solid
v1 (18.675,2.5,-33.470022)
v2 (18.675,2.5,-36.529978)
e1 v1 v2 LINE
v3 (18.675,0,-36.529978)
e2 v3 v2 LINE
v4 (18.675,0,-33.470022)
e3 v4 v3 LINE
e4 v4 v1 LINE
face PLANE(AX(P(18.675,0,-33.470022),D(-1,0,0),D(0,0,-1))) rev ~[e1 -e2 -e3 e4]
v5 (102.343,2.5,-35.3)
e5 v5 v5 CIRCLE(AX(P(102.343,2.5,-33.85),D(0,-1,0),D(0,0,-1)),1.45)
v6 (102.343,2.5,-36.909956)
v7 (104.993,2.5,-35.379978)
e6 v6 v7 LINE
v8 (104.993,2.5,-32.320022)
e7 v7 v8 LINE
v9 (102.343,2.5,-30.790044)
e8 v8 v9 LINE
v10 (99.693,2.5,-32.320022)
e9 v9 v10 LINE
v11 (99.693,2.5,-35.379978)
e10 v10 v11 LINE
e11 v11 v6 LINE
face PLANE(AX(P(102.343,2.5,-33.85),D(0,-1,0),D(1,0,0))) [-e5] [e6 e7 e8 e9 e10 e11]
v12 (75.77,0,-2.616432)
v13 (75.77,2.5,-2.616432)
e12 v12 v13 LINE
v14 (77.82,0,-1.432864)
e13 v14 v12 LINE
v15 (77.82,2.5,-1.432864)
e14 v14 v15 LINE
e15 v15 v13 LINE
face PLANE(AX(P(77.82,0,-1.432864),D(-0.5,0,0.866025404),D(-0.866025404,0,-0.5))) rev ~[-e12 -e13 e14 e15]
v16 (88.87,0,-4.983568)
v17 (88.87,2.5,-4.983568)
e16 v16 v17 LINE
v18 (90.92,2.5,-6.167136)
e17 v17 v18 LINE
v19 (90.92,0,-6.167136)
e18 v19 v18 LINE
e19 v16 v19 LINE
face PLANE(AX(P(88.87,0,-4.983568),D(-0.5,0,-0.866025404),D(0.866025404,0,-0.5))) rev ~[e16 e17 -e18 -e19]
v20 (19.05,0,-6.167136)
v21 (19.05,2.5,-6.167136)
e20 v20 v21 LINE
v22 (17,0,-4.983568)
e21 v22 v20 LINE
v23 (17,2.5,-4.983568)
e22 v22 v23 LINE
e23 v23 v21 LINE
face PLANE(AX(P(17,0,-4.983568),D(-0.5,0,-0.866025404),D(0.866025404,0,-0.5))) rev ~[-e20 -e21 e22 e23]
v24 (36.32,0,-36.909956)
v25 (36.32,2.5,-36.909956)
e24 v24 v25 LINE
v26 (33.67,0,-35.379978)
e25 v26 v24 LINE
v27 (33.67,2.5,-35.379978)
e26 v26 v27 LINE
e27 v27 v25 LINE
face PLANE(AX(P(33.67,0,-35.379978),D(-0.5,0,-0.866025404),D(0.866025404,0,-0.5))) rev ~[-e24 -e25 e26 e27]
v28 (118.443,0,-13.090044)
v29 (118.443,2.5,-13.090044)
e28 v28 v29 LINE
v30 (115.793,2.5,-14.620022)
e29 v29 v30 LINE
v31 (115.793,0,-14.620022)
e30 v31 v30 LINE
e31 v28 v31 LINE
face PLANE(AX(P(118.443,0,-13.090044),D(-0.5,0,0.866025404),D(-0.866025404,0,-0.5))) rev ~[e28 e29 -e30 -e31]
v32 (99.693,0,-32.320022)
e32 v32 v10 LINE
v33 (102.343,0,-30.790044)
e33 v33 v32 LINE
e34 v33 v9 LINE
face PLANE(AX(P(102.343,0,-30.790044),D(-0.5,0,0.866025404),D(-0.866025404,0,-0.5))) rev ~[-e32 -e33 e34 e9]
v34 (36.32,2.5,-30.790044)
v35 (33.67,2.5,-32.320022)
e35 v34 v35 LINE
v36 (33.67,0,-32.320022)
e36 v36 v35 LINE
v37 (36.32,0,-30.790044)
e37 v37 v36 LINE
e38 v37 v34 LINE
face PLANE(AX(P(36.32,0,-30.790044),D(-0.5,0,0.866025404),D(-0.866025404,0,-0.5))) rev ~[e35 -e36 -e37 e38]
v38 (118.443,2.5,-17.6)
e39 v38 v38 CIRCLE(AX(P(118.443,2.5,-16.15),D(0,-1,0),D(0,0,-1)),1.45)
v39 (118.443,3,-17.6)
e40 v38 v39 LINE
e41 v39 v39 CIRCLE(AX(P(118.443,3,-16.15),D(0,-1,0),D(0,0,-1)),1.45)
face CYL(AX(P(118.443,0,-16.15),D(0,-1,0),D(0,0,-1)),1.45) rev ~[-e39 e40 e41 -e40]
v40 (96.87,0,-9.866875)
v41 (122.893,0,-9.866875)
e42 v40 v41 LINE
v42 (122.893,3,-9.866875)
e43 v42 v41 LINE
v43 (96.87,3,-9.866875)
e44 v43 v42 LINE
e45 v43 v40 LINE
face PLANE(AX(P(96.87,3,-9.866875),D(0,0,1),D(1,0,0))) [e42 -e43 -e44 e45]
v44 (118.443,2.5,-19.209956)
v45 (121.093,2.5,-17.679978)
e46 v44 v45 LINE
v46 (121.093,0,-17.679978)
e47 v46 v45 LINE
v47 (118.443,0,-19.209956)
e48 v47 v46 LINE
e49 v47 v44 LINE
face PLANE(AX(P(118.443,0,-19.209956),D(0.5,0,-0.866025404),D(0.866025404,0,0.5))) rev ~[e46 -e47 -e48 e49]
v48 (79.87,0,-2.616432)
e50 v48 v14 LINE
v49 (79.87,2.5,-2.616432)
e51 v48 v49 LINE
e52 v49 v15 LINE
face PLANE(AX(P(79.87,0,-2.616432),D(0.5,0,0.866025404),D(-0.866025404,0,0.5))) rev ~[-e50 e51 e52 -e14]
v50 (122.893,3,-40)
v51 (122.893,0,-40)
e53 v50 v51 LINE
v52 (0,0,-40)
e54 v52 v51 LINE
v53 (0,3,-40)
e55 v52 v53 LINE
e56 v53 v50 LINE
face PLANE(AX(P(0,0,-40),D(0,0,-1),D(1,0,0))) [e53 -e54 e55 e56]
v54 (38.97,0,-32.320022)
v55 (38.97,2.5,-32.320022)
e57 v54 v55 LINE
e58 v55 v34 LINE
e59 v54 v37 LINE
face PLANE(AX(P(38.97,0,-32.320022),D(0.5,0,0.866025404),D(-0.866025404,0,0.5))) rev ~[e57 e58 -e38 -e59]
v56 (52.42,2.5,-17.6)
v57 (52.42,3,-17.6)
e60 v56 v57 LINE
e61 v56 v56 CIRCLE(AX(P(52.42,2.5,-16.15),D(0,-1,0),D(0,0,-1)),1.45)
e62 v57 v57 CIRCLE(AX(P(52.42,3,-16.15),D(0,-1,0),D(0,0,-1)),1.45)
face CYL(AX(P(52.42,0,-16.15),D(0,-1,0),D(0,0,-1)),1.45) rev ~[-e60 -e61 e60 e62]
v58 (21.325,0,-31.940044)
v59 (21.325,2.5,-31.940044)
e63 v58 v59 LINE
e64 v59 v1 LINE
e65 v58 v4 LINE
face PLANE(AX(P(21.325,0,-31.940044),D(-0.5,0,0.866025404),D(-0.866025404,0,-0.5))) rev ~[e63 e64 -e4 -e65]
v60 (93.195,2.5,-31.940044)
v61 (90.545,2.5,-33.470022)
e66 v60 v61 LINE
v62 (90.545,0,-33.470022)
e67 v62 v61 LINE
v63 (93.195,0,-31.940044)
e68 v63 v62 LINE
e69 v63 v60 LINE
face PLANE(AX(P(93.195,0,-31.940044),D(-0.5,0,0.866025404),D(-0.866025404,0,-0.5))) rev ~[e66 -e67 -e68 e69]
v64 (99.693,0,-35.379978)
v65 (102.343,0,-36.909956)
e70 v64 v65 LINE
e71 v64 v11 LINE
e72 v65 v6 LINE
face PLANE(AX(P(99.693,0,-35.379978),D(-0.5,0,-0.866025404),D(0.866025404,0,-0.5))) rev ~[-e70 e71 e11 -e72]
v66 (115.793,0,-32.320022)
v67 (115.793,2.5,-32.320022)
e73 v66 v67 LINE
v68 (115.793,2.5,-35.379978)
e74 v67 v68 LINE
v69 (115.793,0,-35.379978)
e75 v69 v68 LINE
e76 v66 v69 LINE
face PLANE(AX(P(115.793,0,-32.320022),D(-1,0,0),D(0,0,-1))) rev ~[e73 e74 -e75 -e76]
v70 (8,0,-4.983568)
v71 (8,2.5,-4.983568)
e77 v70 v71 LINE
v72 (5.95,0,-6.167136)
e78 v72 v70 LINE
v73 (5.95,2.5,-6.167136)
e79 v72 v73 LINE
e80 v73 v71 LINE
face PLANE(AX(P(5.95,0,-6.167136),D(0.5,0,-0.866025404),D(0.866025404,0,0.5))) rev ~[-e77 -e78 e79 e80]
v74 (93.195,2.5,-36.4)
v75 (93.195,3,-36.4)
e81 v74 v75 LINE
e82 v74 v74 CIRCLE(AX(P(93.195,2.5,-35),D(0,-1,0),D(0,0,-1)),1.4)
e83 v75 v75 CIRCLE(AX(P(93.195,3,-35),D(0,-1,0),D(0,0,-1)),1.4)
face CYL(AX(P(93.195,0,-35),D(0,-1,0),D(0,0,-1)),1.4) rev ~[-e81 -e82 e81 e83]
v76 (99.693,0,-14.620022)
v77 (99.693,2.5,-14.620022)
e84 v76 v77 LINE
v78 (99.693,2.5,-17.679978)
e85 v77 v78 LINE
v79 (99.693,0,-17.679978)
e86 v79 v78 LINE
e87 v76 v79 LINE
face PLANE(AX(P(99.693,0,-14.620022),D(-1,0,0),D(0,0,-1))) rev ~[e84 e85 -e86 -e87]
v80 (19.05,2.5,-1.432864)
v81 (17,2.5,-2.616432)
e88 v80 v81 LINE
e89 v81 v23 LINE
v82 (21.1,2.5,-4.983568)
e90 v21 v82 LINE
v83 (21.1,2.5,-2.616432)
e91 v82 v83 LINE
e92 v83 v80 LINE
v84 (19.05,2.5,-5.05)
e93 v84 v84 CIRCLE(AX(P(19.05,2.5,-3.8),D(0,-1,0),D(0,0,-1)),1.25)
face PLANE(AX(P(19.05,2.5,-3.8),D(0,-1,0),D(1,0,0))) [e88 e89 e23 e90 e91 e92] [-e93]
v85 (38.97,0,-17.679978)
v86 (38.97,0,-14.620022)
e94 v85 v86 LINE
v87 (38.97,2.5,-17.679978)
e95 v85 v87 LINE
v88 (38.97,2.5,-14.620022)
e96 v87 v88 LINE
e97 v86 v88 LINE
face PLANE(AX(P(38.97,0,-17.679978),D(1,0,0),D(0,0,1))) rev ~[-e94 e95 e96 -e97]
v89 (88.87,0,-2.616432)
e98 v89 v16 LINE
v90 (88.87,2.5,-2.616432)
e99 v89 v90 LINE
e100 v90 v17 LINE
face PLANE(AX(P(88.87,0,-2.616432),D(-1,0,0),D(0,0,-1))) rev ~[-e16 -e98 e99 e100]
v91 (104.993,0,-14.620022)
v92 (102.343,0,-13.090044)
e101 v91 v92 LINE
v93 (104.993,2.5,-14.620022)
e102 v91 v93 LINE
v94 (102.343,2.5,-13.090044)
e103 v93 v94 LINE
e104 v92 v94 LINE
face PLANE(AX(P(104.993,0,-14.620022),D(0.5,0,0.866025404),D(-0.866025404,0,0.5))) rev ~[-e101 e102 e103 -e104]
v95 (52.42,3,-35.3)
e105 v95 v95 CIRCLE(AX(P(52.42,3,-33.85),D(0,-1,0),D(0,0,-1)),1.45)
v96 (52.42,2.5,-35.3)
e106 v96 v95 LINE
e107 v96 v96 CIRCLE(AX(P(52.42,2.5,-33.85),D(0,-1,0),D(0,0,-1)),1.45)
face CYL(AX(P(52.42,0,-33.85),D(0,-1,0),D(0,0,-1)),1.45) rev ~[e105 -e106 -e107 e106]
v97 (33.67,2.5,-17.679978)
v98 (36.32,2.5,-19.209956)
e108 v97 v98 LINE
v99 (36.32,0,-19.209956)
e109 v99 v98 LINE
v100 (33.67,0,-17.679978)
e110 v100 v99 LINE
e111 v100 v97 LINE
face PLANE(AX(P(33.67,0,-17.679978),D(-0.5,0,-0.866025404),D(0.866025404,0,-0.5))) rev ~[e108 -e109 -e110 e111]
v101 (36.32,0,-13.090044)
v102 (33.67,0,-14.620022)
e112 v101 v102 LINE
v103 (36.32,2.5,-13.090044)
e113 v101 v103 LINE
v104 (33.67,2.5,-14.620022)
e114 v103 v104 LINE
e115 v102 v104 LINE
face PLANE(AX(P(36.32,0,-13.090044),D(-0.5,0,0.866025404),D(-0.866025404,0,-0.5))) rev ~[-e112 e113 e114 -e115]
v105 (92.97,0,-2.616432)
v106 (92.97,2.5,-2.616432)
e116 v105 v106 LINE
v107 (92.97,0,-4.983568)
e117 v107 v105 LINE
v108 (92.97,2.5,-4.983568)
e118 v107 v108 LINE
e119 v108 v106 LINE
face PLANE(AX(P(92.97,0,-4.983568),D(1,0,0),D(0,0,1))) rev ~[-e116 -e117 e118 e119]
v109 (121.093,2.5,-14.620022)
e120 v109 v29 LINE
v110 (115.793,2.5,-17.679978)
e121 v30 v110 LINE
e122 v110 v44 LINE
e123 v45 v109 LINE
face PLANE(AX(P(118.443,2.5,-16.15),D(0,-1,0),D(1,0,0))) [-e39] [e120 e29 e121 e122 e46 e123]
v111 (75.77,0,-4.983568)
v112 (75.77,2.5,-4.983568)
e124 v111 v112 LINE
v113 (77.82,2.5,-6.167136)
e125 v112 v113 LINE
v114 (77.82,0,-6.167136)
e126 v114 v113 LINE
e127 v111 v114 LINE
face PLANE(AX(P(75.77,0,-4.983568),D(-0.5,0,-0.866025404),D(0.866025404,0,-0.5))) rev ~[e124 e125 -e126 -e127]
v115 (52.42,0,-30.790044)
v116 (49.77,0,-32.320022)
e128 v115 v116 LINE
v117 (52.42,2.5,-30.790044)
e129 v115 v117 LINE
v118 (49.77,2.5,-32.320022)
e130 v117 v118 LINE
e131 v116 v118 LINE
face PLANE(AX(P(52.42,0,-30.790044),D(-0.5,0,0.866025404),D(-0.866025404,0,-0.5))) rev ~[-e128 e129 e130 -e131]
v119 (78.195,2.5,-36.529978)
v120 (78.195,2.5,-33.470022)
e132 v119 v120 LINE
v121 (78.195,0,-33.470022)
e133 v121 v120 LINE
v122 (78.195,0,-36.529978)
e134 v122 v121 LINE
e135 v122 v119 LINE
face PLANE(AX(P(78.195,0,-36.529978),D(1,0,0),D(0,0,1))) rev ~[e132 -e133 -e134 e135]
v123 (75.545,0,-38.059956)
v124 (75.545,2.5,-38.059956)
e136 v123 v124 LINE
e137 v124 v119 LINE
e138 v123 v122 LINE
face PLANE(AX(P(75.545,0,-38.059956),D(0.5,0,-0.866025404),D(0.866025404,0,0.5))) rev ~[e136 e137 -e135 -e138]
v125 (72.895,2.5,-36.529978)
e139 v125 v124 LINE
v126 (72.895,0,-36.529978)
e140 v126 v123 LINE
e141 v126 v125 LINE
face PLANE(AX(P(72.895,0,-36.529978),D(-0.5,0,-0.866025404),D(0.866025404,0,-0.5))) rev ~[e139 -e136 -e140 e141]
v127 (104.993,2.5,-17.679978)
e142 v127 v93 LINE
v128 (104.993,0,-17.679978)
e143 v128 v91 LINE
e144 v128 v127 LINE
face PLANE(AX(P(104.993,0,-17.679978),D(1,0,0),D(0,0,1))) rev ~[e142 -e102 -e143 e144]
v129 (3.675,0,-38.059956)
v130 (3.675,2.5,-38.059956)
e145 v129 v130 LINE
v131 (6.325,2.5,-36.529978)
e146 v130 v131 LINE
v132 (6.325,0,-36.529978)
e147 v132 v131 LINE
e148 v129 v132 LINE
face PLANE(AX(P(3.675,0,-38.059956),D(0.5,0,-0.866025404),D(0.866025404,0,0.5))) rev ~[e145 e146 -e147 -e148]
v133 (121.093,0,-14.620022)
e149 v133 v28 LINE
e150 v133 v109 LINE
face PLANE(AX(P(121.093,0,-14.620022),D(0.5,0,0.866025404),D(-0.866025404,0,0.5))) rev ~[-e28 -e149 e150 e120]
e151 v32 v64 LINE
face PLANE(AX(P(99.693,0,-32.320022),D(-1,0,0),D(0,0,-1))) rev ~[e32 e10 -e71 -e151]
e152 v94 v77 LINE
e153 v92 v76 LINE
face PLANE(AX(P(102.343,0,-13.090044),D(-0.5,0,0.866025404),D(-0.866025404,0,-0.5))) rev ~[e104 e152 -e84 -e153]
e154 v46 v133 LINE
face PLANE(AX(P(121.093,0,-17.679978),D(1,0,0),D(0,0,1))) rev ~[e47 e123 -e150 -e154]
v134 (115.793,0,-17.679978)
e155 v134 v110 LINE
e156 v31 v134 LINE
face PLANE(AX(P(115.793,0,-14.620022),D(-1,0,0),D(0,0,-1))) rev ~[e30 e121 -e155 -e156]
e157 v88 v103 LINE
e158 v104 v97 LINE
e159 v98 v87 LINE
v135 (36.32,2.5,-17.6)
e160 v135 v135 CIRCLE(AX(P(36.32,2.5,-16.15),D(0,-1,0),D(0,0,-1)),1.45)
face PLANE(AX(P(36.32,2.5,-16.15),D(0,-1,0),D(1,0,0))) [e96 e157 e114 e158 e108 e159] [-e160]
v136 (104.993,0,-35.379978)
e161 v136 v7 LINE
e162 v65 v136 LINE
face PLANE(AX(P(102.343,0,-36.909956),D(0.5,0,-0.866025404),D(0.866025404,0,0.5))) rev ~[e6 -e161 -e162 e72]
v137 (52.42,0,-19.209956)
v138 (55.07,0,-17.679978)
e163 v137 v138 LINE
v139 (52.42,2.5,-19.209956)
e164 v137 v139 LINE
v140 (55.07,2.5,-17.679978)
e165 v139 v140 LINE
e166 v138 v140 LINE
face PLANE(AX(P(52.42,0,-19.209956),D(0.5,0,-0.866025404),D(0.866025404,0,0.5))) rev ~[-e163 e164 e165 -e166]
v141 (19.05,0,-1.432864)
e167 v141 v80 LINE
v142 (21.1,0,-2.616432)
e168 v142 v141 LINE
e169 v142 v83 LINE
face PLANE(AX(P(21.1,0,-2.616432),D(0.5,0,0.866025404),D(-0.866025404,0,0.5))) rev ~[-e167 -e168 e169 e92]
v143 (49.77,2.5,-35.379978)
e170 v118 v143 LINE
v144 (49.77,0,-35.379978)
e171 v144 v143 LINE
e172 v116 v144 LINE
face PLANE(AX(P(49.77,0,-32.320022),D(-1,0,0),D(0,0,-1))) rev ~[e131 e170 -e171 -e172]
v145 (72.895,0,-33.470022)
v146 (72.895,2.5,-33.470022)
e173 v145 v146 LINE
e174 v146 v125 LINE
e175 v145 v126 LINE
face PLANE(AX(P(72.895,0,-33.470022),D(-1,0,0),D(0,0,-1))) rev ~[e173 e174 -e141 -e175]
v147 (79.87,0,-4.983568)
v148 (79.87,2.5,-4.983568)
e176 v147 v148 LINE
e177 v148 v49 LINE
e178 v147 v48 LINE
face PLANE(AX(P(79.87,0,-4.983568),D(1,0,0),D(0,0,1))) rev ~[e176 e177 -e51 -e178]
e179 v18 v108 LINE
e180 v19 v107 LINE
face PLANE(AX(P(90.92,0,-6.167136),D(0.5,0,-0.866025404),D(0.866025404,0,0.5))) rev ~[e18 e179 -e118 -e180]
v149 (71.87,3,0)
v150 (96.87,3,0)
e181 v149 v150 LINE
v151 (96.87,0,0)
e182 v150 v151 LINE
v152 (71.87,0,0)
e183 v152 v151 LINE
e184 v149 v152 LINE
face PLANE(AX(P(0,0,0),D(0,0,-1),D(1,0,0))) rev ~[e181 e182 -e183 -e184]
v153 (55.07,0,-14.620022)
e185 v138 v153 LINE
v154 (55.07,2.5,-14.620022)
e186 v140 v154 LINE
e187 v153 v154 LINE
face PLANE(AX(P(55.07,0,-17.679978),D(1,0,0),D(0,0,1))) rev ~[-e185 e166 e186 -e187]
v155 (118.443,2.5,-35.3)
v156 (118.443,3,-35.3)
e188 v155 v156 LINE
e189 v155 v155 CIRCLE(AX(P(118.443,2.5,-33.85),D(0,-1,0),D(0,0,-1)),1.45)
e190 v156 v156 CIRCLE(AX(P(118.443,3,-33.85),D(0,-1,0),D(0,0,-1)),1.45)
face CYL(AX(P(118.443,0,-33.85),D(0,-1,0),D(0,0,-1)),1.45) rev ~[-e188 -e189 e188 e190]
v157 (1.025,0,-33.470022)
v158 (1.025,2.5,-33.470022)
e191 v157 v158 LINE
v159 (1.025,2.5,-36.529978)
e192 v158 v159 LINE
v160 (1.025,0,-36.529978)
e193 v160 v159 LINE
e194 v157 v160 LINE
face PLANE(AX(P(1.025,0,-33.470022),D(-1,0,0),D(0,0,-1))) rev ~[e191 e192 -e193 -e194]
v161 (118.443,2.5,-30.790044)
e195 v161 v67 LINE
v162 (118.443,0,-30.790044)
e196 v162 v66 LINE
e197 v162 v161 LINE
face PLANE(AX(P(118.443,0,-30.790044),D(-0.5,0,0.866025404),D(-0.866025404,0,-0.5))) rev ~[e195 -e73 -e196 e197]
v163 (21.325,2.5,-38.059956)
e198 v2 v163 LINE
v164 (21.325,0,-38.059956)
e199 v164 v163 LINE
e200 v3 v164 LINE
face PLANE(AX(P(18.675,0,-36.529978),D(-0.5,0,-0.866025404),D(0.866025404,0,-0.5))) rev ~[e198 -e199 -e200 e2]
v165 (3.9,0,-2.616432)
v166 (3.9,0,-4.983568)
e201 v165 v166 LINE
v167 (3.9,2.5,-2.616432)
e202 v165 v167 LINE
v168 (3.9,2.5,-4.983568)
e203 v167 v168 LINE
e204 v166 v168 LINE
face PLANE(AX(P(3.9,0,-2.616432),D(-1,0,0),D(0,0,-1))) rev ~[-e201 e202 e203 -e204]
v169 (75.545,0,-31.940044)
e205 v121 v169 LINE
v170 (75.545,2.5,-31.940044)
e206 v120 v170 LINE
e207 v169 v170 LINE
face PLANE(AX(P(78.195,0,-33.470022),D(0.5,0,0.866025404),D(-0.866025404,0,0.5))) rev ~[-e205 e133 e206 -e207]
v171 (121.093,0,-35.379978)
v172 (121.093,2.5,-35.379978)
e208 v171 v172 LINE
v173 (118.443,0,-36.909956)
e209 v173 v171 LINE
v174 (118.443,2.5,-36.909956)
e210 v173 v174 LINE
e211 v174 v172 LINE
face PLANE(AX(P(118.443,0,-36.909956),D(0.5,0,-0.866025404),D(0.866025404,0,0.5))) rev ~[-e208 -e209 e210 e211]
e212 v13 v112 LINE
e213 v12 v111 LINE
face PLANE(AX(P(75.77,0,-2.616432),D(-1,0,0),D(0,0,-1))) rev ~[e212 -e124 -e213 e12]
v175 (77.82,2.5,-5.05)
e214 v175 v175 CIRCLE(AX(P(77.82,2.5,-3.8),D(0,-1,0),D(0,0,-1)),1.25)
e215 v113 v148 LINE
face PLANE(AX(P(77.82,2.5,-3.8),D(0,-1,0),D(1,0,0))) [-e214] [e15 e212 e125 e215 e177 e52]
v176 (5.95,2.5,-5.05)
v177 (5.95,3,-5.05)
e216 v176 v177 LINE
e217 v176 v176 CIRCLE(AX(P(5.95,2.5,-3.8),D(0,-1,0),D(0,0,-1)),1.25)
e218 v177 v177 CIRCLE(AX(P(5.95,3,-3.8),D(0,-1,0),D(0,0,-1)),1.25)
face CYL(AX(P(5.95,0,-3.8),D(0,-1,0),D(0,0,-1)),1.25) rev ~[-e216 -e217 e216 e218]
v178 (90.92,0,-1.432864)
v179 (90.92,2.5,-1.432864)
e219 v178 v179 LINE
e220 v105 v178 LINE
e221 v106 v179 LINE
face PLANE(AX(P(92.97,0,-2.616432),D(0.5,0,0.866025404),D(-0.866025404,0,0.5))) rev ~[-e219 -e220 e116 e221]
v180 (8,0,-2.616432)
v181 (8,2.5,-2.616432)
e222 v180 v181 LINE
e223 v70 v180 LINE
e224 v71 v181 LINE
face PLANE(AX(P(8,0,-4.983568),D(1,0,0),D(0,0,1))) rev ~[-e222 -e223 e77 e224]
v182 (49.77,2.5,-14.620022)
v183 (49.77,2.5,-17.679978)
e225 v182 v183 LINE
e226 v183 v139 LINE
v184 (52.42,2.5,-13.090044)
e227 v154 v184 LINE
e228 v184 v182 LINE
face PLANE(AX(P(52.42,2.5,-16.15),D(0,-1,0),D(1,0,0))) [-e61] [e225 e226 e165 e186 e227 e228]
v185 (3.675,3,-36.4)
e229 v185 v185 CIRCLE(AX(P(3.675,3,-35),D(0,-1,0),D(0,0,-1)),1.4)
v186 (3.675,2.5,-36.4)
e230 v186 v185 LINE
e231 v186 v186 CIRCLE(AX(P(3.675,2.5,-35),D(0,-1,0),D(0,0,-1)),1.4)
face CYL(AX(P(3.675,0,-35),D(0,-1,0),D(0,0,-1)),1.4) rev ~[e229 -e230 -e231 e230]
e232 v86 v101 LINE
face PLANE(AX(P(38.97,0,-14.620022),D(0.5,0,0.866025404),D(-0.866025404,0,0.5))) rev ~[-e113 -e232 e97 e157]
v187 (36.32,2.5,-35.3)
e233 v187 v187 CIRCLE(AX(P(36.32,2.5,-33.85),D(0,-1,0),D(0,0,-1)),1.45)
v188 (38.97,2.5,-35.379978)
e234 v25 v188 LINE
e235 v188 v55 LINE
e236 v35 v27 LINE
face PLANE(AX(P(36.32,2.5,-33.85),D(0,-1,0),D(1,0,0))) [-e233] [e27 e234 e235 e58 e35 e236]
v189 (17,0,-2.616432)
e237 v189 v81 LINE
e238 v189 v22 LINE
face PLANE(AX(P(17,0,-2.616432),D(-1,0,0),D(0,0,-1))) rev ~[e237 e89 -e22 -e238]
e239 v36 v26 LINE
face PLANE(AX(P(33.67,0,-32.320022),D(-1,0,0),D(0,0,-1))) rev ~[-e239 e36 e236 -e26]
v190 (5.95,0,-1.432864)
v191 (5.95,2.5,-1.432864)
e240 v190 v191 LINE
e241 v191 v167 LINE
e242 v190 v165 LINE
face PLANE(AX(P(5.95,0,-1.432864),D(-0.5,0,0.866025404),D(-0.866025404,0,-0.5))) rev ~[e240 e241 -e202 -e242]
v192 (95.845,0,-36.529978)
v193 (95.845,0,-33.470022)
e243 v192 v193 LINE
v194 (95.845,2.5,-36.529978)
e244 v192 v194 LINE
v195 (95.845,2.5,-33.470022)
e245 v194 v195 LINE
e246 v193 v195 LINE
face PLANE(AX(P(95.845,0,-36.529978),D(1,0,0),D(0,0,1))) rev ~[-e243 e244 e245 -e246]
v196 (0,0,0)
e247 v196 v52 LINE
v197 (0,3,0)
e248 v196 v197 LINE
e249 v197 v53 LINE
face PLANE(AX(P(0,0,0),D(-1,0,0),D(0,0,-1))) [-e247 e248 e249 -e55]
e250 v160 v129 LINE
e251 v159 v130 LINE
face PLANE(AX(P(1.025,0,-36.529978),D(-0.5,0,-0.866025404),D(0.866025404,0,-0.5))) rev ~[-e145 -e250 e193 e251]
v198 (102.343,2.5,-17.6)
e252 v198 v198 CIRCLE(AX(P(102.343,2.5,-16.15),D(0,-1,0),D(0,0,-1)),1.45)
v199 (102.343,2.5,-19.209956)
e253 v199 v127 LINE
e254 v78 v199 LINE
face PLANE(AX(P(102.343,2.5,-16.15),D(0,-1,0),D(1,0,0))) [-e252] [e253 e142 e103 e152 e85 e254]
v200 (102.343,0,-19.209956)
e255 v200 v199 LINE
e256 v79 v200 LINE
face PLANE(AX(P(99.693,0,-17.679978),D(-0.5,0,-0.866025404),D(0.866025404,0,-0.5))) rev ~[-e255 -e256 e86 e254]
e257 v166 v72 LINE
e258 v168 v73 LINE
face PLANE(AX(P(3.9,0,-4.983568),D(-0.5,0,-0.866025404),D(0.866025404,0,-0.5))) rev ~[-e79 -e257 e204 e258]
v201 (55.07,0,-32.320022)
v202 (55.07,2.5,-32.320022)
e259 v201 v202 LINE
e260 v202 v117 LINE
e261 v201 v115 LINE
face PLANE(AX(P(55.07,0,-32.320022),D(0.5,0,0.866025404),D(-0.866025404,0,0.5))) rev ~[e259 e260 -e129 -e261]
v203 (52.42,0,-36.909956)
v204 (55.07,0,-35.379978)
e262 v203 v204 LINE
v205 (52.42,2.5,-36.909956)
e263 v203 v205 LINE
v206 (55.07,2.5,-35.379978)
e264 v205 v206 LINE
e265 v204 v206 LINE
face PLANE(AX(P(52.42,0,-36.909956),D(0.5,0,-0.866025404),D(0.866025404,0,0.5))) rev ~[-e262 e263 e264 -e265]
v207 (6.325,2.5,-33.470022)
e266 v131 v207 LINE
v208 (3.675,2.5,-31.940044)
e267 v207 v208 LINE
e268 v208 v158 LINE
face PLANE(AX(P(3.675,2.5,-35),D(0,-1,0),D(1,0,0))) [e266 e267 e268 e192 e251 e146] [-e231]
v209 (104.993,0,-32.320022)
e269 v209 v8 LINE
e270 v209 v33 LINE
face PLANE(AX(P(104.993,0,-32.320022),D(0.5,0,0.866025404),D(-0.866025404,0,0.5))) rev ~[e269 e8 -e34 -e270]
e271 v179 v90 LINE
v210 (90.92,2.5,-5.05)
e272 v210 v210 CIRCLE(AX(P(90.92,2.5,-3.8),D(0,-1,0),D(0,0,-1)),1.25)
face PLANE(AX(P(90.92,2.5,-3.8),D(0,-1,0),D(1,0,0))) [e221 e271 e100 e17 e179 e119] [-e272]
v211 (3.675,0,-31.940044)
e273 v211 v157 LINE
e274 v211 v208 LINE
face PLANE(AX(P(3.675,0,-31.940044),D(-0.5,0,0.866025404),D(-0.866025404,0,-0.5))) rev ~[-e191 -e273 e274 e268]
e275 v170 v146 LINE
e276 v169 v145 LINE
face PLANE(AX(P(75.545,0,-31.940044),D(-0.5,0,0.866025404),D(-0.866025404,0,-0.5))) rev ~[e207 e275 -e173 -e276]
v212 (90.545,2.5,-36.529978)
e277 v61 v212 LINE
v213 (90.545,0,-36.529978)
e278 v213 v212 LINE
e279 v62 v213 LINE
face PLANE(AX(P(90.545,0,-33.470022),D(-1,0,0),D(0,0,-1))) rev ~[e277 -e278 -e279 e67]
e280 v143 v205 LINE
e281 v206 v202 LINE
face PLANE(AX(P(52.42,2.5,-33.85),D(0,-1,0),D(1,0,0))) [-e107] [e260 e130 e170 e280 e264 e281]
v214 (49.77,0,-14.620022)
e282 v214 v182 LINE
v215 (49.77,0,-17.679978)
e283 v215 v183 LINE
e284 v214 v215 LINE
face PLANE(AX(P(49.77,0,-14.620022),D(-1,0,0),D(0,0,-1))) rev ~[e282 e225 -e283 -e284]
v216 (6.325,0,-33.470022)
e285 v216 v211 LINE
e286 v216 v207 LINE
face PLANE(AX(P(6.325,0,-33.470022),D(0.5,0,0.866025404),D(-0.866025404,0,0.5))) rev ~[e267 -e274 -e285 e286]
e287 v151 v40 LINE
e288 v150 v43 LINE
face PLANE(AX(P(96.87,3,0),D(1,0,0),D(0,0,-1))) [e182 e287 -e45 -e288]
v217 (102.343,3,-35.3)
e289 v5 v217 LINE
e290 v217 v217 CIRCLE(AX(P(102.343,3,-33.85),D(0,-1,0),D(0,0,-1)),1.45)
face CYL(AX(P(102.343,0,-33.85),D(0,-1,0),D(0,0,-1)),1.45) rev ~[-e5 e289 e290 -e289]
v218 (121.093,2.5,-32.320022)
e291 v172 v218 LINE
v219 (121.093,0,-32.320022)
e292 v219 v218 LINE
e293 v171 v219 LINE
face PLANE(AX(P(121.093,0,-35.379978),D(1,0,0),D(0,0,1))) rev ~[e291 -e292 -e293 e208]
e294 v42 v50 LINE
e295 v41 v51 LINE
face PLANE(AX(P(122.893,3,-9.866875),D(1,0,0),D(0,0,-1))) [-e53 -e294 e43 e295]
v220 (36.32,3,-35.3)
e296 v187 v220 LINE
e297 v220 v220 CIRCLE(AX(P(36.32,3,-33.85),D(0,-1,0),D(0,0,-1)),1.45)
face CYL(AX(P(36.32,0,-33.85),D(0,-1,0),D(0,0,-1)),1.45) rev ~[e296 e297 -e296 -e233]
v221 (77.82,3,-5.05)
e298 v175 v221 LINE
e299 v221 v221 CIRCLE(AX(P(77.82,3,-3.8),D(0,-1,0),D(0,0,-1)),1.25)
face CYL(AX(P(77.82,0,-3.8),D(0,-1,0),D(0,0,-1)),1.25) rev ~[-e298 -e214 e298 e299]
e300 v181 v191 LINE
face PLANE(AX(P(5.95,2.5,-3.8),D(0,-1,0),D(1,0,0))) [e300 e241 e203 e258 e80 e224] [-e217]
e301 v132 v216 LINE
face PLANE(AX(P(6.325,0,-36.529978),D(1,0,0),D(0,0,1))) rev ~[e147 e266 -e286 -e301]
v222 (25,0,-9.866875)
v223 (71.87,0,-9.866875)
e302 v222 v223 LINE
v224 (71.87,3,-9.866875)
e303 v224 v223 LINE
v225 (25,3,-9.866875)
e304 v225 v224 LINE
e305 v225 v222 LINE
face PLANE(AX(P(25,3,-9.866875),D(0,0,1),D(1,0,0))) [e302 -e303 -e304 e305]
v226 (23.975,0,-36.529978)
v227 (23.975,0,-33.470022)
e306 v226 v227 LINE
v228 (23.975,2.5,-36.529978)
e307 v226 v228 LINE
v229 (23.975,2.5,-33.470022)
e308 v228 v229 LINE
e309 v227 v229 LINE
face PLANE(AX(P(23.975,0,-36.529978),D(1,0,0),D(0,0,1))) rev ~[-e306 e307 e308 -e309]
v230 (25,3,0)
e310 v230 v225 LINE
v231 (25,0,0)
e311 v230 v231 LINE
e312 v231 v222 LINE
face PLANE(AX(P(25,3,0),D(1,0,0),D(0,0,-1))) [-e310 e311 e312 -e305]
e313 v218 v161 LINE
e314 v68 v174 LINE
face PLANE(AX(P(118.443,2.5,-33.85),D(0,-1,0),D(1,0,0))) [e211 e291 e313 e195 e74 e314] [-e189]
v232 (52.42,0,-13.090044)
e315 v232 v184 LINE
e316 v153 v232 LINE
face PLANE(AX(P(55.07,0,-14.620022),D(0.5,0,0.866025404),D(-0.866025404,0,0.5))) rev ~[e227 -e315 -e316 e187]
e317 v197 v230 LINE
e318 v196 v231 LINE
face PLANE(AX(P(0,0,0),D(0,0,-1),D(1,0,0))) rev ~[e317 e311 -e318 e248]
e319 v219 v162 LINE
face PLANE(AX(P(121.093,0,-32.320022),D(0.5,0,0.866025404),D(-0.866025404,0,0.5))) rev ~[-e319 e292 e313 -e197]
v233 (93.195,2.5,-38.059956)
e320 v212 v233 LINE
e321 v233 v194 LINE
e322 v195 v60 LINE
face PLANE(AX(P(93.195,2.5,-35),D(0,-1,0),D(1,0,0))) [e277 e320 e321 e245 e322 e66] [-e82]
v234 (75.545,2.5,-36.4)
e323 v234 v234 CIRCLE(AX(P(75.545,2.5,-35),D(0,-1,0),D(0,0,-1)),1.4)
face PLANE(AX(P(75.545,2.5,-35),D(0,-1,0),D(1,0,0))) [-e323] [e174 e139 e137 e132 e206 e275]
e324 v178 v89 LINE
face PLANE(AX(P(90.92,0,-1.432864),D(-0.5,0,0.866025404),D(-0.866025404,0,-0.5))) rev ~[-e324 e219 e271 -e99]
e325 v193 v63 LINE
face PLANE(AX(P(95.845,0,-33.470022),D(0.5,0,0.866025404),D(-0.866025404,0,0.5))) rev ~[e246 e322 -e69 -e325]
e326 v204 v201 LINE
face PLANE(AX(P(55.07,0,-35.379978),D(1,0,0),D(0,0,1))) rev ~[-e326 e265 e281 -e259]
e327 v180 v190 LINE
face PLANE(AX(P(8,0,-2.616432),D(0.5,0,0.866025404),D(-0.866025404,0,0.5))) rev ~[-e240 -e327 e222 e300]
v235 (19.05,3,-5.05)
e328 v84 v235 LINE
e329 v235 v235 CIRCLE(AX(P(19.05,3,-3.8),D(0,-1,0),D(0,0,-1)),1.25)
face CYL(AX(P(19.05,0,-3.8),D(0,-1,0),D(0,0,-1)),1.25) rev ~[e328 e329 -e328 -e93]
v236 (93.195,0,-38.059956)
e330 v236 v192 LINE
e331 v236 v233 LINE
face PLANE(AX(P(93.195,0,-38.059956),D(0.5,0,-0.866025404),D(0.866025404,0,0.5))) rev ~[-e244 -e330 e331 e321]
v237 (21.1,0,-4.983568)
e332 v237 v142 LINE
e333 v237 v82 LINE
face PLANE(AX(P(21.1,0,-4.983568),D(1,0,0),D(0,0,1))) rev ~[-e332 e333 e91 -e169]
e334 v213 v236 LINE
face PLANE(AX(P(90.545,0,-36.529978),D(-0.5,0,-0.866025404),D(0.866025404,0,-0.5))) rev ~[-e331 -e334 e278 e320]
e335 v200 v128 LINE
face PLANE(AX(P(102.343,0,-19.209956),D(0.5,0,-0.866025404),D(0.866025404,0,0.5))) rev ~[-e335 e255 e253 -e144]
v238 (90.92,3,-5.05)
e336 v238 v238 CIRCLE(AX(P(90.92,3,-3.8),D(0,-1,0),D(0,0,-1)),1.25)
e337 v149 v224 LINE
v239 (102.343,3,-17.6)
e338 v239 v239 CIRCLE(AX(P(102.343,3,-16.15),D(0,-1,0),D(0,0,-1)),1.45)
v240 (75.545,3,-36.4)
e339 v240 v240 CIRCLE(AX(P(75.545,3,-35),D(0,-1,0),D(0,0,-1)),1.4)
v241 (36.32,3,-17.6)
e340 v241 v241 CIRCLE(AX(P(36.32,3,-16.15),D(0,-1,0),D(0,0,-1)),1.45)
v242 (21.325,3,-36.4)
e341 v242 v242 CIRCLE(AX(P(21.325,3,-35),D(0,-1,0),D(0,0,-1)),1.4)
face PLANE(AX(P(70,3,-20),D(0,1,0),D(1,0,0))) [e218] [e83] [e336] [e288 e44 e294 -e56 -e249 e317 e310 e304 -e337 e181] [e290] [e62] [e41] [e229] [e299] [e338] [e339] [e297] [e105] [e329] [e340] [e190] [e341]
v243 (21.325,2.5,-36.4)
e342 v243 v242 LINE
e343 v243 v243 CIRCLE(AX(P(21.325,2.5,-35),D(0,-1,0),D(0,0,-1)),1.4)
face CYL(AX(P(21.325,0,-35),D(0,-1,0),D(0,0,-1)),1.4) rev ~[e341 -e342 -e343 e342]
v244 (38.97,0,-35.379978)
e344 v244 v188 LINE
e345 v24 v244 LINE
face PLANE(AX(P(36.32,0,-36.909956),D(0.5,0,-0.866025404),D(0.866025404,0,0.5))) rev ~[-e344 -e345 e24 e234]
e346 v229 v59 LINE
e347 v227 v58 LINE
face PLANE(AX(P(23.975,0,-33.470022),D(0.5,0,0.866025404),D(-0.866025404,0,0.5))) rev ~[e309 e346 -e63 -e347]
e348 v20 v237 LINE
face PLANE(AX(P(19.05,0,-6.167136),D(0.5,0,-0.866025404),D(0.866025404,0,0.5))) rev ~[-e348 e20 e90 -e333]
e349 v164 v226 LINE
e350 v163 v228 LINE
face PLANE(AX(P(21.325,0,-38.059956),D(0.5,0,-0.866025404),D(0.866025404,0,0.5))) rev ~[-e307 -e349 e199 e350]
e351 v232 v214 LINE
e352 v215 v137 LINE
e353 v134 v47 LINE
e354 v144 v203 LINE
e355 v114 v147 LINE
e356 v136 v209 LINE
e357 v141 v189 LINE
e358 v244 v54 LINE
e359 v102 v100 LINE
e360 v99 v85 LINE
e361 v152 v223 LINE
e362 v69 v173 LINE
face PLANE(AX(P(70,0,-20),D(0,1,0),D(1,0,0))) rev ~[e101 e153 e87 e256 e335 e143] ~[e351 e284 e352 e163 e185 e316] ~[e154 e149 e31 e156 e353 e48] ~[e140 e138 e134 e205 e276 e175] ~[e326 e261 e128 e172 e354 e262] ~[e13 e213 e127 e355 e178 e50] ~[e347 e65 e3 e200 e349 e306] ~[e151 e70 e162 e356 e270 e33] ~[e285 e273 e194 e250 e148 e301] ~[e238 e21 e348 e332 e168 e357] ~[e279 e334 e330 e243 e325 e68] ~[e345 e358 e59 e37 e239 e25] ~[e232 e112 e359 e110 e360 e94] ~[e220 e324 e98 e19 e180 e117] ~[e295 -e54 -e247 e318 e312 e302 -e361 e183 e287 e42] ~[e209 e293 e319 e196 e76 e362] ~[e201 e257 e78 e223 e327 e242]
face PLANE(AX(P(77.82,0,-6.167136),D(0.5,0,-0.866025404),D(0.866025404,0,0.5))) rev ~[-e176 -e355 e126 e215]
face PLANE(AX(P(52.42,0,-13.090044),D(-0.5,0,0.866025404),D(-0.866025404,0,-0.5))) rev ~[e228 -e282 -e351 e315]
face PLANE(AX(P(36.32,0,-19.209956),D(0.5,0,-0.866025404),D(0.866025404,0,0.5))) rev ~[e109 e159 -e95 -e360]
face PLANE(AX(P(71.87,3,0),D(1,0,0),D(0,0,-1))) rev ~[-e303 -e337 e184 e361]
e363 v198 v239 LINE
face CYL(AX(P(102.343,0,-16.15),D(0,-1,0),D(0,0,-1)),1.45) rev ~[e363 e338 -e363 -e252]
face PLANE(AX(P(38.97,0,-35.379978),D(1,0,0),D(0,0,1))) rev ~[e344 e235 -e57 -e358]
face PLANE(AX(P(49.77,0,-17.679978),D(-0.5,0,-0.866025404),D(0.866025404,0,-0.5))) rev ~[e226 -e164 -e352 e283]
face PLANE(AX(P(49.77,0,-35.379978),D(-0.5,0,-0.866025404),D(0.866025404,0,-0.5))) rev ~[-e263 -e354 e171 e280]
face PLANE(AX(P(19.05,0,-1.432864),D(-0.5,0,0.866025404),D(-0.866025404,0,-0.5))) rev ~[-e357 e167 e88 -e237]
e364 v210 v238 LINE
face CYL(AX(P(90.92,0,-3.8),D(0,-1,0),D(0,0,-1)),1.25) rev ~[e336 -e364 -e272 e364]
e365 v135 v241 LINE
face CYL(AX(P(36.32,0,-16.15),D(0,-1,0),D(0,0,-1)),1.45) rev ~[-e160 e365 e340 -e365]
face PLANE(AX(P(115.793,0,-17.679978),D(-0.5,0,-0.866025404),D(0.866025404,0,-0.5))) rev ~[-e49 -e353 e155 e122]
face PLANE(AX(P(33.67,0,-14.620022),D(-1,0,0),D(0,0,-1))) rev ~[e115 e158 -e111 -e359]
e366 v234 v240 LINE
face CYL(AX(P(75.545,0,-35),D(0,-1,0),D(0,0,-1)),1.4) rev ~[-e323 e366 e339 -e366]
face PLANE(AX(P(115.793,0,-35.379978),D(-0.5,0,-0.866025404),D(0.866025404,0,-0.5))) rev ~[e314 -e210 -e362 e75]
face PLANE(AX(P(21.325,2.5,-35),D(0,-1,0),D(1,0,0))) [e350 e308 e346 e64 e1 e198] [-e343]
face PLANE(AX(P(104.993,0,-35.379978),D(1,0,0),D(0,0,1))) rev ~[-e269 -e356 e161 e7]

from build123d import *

# Parameters (mm, degrees)
SKETCH1_W           = 140
SKETCH1_H           = 40
BOSS_EXTRUDE1_DEPTH = 3
SKETCH2_R           = 1.4
SKETCH2_R_2         = 1.25
SKETCH2_R_3         = 1.45
CUT_EXTRUDE1_DEPTH  = 146.633100633
CUT_EXTRUDE2_DEPTH  = 2.5
SKETCH5_W           = 46.87
SKETCH5_H           = 9.866874784
CUT_EXTRUDE4_DEPTH  = 146.633100633


with BuildPart() as part:
    # Sketch1 → Boss-Extrude1 (new body)
    with BuildSketch(Plane(origin=(0, 0, 0), x_dir=(1, 0, 0), z_dir=(0, 1, 0))):
        with Locations((70, 20)):
            Rectangle(SKETCH1_W, SKETCH1_H)
    extrude(amount=BOSS_EXTRUDE1_DEPTH)

    # Sketch2 → Cut-Extrude1 (cut, through all)
    with BuildSketch(Plane.XZ):
        with Locations(Location((3.675, -35, 0), (0, 0, 270))):
            Circle(SKETCH2_R)
        with Locations(Location((21.325, -35, 0), (0, 0, 270))):
            Circle(SKETCH2_R)
        with Locations(Location((5.95, -3.8, 0), (0, 0, 270))):
            Circle(SKETCH2_R_2)
        with Locations(Location((19.05, -3.8, 0), (0, 0, 270))):
            Circle(SKETCH2_R_2)
        with Locations(Location((36.32, -33.85, 0), (0, 0, 270))):
            Circle(SKETCH2_R_3)
        with Locations(Location((52.42, -33.85, 0), (0, 0, 270))):
            Circle(SKETCH2_R_3)
        with Locations(Location((52.42, -16.15, 0), (0, 0, 270))):
            Circle(SKETCH2_R_3)
        with Locations(Location((36.32, -16.15, 0), (0, 0, 270))):
            Circle(SKETCH2_R_3)
        with Locations(Location((75.545, -35, 0), (0, 0, 270))):
            Circle(SKETCH2_R)
        with Locations(Location((93.195, -35, 0), (0, 0, 270))):
            Circle(SKETCH2_R)
        with Locations(Location((77.82, -3.8, 0), (0, 0, 270))):
            Circle(SKETCH2_R_2)
        with Locations(Location((90.92, -3.8, 0), (0, 0, 270))):
            Circle(SKETCH2_R_2)
        with Locations(Location((102.342999781, -33.85, 0), (0, 0, 270))):
            Circle(SKETCH2_R_3)
        with Locations(Location((118.442999781, -33.85, 0), (0, 0, 270))):
            Circle(SKETCH2_R_3)
        with Locations(Location((102.342999781, -16.15, 0), (0, 0, 270))):
            Circle(SKETCH2_R_3)
        with Locations(Location((118.442999781, -16.15, 0), (0, 0, 270))):
            Circle(SKETCH2_R_3)
    extrude(amount=-CUT_EXTRUDE1_DEPTH, mode=Mode.SUBTRACT)

    # Sketch3 → Cut-Extrude2 (cut)
    with BuildSketch(Plane.XZ):
        Polygon((8, -4.983568052), (8, -2.616431948), (5.95, -1.432863896), (3.9, -2.616431948), (3.9, -4.983568052), (5.95, -6.167136104), align=None)
        Polygon((21.1, -4.983568052), (21.1, -2.616431948), (19.05, -1.432863896), (17, -2.616431948), (17, -4.983568052), (19.05, -6.167136104), align=None)
        Polygon((6.325, -36.529978213), (6.325, -33.470021787), (3.675, -31.940043573), (1.025, -33.470021787), (1.025, -36.529978213), (3.675, -38.059956427), align=None)
        Polygon((21.325, -38.059956427), (23.975, -36.529978213), (23.975, -33.470021787), (21.325, -31.940043573), (18.675, -33.470021787), (18.675, -36.529978213), align=None)
        Polygon((38.97, -17.679978213), (38.97, -14.620021787), (36.32, -13.090043573), (33.67, -14.620021787), (33.67, -17.679978213), (36.32, -19.209956427), align=None)
        Polygon((52.42, -19.209956427), (55.07, -17.679978213), (55.07, -14.620021787), (52.42, -13.090043573), (49.77, -14.620021787), (49.77, -17.679978213), align=None)
        Polygon((38.97, -35.379978213), (38.97, -32.320021787), (36.32, -30.790043573), (33.67, -32.320021787), (33.67, -35.379978213), (36.32, -36.909956427), align=None)
        Polygon((55.07, -35.379978213), (55.07, -32.320021787), (52.42, -30.790043573), (49.77, -32.320021787), (49.77, -35.379978213), (52.42, -36.909956427), align=None)
        Polygon((78.195, -33.470021787), (75.545, -31.940043573), (72.895, -33.470021787), (72.895, -36.529978213), (75.545, -38.059956427), (78.195, -36.529978213), align=None)
        Polygon((95.845, -36.529978213), (95.845, -33.470021787), (93.195, -31.940043573), (90.545, -33.470021787), (90.545, -36.529978213), (93.195, -38.059956427), align=None)
        Polygon((90.92, -6.167136104), (92.97, -4.983568052), (92.97, -2.616431948), (90.92, -1.432863896), (88.87, -2.616431948), (88.87, -4.983568052), align=None)
        Polygon((79.87, -4.983568052), (79.87, -2.616431948), (77.82, -1.432863896), (75.77, -2.616431948), (75.77, -4.983568052), (77.82, -6.167136104), align=None)
        Polygon((118.442999781, -30.790043573), (115.792999781, -32.320021787), (115.792999781, -35.379978213), (118.442999781, -36.909956427), (121.092999781, -35.379978213), (121.092999781, -32.320021787), align=None)
        Polygon((102.342999781, -30.790043573), (99.692999781, -32.320021787), (99.692999781, -35.379978213), (102.342999781, -36.909956427), (104.992999781, -35.379978213), (104.992999781, -32.320021787), align=None)
        Polygon((102.342999781, -13.090043573), (99.692999781, -14.620021787), (99.692999781, -17.679978213), (102.342999781, -19.209956427), (104.992999781, -17.679978213), (104.992999781, -14.620021787), align=None)
        Polygon((118.442999781, -13.090043573), (115.792999781, -14.620021787), (115.792999781, -17.679978213), (118.442999781, -19.209956427), (121.092999781, -17.679978213), (121.092999781, -14.620021787), align=None)
    extrude(amount=-CUT_EXTRUDE2_DEPTH, mode=Mode.SUBTRACT)

    # Sketch5 → Cut-Extrude4 (cut, through all)
    with BuildSketch(Plane(origin=(0, 3, 0), x_dir=(1, 0, 0), z_dir=(0, 1, 0))):
        with Locations((48.435, 4.933437392)):
            Rectangle(SKETCH5_W, SKETCH5_H)
        Polygon((96.87, 9.866874784), (122.892999781, 9.866874784), (122.892999781, 40), (140, 40), (140, 9.866874784), (140, 0), (96.87, 0), align=None)
    extrude(amount=-CUT_EXTRUDE4_DEPTH, mode=Mode.SUBTRACT)


solid = part.part
